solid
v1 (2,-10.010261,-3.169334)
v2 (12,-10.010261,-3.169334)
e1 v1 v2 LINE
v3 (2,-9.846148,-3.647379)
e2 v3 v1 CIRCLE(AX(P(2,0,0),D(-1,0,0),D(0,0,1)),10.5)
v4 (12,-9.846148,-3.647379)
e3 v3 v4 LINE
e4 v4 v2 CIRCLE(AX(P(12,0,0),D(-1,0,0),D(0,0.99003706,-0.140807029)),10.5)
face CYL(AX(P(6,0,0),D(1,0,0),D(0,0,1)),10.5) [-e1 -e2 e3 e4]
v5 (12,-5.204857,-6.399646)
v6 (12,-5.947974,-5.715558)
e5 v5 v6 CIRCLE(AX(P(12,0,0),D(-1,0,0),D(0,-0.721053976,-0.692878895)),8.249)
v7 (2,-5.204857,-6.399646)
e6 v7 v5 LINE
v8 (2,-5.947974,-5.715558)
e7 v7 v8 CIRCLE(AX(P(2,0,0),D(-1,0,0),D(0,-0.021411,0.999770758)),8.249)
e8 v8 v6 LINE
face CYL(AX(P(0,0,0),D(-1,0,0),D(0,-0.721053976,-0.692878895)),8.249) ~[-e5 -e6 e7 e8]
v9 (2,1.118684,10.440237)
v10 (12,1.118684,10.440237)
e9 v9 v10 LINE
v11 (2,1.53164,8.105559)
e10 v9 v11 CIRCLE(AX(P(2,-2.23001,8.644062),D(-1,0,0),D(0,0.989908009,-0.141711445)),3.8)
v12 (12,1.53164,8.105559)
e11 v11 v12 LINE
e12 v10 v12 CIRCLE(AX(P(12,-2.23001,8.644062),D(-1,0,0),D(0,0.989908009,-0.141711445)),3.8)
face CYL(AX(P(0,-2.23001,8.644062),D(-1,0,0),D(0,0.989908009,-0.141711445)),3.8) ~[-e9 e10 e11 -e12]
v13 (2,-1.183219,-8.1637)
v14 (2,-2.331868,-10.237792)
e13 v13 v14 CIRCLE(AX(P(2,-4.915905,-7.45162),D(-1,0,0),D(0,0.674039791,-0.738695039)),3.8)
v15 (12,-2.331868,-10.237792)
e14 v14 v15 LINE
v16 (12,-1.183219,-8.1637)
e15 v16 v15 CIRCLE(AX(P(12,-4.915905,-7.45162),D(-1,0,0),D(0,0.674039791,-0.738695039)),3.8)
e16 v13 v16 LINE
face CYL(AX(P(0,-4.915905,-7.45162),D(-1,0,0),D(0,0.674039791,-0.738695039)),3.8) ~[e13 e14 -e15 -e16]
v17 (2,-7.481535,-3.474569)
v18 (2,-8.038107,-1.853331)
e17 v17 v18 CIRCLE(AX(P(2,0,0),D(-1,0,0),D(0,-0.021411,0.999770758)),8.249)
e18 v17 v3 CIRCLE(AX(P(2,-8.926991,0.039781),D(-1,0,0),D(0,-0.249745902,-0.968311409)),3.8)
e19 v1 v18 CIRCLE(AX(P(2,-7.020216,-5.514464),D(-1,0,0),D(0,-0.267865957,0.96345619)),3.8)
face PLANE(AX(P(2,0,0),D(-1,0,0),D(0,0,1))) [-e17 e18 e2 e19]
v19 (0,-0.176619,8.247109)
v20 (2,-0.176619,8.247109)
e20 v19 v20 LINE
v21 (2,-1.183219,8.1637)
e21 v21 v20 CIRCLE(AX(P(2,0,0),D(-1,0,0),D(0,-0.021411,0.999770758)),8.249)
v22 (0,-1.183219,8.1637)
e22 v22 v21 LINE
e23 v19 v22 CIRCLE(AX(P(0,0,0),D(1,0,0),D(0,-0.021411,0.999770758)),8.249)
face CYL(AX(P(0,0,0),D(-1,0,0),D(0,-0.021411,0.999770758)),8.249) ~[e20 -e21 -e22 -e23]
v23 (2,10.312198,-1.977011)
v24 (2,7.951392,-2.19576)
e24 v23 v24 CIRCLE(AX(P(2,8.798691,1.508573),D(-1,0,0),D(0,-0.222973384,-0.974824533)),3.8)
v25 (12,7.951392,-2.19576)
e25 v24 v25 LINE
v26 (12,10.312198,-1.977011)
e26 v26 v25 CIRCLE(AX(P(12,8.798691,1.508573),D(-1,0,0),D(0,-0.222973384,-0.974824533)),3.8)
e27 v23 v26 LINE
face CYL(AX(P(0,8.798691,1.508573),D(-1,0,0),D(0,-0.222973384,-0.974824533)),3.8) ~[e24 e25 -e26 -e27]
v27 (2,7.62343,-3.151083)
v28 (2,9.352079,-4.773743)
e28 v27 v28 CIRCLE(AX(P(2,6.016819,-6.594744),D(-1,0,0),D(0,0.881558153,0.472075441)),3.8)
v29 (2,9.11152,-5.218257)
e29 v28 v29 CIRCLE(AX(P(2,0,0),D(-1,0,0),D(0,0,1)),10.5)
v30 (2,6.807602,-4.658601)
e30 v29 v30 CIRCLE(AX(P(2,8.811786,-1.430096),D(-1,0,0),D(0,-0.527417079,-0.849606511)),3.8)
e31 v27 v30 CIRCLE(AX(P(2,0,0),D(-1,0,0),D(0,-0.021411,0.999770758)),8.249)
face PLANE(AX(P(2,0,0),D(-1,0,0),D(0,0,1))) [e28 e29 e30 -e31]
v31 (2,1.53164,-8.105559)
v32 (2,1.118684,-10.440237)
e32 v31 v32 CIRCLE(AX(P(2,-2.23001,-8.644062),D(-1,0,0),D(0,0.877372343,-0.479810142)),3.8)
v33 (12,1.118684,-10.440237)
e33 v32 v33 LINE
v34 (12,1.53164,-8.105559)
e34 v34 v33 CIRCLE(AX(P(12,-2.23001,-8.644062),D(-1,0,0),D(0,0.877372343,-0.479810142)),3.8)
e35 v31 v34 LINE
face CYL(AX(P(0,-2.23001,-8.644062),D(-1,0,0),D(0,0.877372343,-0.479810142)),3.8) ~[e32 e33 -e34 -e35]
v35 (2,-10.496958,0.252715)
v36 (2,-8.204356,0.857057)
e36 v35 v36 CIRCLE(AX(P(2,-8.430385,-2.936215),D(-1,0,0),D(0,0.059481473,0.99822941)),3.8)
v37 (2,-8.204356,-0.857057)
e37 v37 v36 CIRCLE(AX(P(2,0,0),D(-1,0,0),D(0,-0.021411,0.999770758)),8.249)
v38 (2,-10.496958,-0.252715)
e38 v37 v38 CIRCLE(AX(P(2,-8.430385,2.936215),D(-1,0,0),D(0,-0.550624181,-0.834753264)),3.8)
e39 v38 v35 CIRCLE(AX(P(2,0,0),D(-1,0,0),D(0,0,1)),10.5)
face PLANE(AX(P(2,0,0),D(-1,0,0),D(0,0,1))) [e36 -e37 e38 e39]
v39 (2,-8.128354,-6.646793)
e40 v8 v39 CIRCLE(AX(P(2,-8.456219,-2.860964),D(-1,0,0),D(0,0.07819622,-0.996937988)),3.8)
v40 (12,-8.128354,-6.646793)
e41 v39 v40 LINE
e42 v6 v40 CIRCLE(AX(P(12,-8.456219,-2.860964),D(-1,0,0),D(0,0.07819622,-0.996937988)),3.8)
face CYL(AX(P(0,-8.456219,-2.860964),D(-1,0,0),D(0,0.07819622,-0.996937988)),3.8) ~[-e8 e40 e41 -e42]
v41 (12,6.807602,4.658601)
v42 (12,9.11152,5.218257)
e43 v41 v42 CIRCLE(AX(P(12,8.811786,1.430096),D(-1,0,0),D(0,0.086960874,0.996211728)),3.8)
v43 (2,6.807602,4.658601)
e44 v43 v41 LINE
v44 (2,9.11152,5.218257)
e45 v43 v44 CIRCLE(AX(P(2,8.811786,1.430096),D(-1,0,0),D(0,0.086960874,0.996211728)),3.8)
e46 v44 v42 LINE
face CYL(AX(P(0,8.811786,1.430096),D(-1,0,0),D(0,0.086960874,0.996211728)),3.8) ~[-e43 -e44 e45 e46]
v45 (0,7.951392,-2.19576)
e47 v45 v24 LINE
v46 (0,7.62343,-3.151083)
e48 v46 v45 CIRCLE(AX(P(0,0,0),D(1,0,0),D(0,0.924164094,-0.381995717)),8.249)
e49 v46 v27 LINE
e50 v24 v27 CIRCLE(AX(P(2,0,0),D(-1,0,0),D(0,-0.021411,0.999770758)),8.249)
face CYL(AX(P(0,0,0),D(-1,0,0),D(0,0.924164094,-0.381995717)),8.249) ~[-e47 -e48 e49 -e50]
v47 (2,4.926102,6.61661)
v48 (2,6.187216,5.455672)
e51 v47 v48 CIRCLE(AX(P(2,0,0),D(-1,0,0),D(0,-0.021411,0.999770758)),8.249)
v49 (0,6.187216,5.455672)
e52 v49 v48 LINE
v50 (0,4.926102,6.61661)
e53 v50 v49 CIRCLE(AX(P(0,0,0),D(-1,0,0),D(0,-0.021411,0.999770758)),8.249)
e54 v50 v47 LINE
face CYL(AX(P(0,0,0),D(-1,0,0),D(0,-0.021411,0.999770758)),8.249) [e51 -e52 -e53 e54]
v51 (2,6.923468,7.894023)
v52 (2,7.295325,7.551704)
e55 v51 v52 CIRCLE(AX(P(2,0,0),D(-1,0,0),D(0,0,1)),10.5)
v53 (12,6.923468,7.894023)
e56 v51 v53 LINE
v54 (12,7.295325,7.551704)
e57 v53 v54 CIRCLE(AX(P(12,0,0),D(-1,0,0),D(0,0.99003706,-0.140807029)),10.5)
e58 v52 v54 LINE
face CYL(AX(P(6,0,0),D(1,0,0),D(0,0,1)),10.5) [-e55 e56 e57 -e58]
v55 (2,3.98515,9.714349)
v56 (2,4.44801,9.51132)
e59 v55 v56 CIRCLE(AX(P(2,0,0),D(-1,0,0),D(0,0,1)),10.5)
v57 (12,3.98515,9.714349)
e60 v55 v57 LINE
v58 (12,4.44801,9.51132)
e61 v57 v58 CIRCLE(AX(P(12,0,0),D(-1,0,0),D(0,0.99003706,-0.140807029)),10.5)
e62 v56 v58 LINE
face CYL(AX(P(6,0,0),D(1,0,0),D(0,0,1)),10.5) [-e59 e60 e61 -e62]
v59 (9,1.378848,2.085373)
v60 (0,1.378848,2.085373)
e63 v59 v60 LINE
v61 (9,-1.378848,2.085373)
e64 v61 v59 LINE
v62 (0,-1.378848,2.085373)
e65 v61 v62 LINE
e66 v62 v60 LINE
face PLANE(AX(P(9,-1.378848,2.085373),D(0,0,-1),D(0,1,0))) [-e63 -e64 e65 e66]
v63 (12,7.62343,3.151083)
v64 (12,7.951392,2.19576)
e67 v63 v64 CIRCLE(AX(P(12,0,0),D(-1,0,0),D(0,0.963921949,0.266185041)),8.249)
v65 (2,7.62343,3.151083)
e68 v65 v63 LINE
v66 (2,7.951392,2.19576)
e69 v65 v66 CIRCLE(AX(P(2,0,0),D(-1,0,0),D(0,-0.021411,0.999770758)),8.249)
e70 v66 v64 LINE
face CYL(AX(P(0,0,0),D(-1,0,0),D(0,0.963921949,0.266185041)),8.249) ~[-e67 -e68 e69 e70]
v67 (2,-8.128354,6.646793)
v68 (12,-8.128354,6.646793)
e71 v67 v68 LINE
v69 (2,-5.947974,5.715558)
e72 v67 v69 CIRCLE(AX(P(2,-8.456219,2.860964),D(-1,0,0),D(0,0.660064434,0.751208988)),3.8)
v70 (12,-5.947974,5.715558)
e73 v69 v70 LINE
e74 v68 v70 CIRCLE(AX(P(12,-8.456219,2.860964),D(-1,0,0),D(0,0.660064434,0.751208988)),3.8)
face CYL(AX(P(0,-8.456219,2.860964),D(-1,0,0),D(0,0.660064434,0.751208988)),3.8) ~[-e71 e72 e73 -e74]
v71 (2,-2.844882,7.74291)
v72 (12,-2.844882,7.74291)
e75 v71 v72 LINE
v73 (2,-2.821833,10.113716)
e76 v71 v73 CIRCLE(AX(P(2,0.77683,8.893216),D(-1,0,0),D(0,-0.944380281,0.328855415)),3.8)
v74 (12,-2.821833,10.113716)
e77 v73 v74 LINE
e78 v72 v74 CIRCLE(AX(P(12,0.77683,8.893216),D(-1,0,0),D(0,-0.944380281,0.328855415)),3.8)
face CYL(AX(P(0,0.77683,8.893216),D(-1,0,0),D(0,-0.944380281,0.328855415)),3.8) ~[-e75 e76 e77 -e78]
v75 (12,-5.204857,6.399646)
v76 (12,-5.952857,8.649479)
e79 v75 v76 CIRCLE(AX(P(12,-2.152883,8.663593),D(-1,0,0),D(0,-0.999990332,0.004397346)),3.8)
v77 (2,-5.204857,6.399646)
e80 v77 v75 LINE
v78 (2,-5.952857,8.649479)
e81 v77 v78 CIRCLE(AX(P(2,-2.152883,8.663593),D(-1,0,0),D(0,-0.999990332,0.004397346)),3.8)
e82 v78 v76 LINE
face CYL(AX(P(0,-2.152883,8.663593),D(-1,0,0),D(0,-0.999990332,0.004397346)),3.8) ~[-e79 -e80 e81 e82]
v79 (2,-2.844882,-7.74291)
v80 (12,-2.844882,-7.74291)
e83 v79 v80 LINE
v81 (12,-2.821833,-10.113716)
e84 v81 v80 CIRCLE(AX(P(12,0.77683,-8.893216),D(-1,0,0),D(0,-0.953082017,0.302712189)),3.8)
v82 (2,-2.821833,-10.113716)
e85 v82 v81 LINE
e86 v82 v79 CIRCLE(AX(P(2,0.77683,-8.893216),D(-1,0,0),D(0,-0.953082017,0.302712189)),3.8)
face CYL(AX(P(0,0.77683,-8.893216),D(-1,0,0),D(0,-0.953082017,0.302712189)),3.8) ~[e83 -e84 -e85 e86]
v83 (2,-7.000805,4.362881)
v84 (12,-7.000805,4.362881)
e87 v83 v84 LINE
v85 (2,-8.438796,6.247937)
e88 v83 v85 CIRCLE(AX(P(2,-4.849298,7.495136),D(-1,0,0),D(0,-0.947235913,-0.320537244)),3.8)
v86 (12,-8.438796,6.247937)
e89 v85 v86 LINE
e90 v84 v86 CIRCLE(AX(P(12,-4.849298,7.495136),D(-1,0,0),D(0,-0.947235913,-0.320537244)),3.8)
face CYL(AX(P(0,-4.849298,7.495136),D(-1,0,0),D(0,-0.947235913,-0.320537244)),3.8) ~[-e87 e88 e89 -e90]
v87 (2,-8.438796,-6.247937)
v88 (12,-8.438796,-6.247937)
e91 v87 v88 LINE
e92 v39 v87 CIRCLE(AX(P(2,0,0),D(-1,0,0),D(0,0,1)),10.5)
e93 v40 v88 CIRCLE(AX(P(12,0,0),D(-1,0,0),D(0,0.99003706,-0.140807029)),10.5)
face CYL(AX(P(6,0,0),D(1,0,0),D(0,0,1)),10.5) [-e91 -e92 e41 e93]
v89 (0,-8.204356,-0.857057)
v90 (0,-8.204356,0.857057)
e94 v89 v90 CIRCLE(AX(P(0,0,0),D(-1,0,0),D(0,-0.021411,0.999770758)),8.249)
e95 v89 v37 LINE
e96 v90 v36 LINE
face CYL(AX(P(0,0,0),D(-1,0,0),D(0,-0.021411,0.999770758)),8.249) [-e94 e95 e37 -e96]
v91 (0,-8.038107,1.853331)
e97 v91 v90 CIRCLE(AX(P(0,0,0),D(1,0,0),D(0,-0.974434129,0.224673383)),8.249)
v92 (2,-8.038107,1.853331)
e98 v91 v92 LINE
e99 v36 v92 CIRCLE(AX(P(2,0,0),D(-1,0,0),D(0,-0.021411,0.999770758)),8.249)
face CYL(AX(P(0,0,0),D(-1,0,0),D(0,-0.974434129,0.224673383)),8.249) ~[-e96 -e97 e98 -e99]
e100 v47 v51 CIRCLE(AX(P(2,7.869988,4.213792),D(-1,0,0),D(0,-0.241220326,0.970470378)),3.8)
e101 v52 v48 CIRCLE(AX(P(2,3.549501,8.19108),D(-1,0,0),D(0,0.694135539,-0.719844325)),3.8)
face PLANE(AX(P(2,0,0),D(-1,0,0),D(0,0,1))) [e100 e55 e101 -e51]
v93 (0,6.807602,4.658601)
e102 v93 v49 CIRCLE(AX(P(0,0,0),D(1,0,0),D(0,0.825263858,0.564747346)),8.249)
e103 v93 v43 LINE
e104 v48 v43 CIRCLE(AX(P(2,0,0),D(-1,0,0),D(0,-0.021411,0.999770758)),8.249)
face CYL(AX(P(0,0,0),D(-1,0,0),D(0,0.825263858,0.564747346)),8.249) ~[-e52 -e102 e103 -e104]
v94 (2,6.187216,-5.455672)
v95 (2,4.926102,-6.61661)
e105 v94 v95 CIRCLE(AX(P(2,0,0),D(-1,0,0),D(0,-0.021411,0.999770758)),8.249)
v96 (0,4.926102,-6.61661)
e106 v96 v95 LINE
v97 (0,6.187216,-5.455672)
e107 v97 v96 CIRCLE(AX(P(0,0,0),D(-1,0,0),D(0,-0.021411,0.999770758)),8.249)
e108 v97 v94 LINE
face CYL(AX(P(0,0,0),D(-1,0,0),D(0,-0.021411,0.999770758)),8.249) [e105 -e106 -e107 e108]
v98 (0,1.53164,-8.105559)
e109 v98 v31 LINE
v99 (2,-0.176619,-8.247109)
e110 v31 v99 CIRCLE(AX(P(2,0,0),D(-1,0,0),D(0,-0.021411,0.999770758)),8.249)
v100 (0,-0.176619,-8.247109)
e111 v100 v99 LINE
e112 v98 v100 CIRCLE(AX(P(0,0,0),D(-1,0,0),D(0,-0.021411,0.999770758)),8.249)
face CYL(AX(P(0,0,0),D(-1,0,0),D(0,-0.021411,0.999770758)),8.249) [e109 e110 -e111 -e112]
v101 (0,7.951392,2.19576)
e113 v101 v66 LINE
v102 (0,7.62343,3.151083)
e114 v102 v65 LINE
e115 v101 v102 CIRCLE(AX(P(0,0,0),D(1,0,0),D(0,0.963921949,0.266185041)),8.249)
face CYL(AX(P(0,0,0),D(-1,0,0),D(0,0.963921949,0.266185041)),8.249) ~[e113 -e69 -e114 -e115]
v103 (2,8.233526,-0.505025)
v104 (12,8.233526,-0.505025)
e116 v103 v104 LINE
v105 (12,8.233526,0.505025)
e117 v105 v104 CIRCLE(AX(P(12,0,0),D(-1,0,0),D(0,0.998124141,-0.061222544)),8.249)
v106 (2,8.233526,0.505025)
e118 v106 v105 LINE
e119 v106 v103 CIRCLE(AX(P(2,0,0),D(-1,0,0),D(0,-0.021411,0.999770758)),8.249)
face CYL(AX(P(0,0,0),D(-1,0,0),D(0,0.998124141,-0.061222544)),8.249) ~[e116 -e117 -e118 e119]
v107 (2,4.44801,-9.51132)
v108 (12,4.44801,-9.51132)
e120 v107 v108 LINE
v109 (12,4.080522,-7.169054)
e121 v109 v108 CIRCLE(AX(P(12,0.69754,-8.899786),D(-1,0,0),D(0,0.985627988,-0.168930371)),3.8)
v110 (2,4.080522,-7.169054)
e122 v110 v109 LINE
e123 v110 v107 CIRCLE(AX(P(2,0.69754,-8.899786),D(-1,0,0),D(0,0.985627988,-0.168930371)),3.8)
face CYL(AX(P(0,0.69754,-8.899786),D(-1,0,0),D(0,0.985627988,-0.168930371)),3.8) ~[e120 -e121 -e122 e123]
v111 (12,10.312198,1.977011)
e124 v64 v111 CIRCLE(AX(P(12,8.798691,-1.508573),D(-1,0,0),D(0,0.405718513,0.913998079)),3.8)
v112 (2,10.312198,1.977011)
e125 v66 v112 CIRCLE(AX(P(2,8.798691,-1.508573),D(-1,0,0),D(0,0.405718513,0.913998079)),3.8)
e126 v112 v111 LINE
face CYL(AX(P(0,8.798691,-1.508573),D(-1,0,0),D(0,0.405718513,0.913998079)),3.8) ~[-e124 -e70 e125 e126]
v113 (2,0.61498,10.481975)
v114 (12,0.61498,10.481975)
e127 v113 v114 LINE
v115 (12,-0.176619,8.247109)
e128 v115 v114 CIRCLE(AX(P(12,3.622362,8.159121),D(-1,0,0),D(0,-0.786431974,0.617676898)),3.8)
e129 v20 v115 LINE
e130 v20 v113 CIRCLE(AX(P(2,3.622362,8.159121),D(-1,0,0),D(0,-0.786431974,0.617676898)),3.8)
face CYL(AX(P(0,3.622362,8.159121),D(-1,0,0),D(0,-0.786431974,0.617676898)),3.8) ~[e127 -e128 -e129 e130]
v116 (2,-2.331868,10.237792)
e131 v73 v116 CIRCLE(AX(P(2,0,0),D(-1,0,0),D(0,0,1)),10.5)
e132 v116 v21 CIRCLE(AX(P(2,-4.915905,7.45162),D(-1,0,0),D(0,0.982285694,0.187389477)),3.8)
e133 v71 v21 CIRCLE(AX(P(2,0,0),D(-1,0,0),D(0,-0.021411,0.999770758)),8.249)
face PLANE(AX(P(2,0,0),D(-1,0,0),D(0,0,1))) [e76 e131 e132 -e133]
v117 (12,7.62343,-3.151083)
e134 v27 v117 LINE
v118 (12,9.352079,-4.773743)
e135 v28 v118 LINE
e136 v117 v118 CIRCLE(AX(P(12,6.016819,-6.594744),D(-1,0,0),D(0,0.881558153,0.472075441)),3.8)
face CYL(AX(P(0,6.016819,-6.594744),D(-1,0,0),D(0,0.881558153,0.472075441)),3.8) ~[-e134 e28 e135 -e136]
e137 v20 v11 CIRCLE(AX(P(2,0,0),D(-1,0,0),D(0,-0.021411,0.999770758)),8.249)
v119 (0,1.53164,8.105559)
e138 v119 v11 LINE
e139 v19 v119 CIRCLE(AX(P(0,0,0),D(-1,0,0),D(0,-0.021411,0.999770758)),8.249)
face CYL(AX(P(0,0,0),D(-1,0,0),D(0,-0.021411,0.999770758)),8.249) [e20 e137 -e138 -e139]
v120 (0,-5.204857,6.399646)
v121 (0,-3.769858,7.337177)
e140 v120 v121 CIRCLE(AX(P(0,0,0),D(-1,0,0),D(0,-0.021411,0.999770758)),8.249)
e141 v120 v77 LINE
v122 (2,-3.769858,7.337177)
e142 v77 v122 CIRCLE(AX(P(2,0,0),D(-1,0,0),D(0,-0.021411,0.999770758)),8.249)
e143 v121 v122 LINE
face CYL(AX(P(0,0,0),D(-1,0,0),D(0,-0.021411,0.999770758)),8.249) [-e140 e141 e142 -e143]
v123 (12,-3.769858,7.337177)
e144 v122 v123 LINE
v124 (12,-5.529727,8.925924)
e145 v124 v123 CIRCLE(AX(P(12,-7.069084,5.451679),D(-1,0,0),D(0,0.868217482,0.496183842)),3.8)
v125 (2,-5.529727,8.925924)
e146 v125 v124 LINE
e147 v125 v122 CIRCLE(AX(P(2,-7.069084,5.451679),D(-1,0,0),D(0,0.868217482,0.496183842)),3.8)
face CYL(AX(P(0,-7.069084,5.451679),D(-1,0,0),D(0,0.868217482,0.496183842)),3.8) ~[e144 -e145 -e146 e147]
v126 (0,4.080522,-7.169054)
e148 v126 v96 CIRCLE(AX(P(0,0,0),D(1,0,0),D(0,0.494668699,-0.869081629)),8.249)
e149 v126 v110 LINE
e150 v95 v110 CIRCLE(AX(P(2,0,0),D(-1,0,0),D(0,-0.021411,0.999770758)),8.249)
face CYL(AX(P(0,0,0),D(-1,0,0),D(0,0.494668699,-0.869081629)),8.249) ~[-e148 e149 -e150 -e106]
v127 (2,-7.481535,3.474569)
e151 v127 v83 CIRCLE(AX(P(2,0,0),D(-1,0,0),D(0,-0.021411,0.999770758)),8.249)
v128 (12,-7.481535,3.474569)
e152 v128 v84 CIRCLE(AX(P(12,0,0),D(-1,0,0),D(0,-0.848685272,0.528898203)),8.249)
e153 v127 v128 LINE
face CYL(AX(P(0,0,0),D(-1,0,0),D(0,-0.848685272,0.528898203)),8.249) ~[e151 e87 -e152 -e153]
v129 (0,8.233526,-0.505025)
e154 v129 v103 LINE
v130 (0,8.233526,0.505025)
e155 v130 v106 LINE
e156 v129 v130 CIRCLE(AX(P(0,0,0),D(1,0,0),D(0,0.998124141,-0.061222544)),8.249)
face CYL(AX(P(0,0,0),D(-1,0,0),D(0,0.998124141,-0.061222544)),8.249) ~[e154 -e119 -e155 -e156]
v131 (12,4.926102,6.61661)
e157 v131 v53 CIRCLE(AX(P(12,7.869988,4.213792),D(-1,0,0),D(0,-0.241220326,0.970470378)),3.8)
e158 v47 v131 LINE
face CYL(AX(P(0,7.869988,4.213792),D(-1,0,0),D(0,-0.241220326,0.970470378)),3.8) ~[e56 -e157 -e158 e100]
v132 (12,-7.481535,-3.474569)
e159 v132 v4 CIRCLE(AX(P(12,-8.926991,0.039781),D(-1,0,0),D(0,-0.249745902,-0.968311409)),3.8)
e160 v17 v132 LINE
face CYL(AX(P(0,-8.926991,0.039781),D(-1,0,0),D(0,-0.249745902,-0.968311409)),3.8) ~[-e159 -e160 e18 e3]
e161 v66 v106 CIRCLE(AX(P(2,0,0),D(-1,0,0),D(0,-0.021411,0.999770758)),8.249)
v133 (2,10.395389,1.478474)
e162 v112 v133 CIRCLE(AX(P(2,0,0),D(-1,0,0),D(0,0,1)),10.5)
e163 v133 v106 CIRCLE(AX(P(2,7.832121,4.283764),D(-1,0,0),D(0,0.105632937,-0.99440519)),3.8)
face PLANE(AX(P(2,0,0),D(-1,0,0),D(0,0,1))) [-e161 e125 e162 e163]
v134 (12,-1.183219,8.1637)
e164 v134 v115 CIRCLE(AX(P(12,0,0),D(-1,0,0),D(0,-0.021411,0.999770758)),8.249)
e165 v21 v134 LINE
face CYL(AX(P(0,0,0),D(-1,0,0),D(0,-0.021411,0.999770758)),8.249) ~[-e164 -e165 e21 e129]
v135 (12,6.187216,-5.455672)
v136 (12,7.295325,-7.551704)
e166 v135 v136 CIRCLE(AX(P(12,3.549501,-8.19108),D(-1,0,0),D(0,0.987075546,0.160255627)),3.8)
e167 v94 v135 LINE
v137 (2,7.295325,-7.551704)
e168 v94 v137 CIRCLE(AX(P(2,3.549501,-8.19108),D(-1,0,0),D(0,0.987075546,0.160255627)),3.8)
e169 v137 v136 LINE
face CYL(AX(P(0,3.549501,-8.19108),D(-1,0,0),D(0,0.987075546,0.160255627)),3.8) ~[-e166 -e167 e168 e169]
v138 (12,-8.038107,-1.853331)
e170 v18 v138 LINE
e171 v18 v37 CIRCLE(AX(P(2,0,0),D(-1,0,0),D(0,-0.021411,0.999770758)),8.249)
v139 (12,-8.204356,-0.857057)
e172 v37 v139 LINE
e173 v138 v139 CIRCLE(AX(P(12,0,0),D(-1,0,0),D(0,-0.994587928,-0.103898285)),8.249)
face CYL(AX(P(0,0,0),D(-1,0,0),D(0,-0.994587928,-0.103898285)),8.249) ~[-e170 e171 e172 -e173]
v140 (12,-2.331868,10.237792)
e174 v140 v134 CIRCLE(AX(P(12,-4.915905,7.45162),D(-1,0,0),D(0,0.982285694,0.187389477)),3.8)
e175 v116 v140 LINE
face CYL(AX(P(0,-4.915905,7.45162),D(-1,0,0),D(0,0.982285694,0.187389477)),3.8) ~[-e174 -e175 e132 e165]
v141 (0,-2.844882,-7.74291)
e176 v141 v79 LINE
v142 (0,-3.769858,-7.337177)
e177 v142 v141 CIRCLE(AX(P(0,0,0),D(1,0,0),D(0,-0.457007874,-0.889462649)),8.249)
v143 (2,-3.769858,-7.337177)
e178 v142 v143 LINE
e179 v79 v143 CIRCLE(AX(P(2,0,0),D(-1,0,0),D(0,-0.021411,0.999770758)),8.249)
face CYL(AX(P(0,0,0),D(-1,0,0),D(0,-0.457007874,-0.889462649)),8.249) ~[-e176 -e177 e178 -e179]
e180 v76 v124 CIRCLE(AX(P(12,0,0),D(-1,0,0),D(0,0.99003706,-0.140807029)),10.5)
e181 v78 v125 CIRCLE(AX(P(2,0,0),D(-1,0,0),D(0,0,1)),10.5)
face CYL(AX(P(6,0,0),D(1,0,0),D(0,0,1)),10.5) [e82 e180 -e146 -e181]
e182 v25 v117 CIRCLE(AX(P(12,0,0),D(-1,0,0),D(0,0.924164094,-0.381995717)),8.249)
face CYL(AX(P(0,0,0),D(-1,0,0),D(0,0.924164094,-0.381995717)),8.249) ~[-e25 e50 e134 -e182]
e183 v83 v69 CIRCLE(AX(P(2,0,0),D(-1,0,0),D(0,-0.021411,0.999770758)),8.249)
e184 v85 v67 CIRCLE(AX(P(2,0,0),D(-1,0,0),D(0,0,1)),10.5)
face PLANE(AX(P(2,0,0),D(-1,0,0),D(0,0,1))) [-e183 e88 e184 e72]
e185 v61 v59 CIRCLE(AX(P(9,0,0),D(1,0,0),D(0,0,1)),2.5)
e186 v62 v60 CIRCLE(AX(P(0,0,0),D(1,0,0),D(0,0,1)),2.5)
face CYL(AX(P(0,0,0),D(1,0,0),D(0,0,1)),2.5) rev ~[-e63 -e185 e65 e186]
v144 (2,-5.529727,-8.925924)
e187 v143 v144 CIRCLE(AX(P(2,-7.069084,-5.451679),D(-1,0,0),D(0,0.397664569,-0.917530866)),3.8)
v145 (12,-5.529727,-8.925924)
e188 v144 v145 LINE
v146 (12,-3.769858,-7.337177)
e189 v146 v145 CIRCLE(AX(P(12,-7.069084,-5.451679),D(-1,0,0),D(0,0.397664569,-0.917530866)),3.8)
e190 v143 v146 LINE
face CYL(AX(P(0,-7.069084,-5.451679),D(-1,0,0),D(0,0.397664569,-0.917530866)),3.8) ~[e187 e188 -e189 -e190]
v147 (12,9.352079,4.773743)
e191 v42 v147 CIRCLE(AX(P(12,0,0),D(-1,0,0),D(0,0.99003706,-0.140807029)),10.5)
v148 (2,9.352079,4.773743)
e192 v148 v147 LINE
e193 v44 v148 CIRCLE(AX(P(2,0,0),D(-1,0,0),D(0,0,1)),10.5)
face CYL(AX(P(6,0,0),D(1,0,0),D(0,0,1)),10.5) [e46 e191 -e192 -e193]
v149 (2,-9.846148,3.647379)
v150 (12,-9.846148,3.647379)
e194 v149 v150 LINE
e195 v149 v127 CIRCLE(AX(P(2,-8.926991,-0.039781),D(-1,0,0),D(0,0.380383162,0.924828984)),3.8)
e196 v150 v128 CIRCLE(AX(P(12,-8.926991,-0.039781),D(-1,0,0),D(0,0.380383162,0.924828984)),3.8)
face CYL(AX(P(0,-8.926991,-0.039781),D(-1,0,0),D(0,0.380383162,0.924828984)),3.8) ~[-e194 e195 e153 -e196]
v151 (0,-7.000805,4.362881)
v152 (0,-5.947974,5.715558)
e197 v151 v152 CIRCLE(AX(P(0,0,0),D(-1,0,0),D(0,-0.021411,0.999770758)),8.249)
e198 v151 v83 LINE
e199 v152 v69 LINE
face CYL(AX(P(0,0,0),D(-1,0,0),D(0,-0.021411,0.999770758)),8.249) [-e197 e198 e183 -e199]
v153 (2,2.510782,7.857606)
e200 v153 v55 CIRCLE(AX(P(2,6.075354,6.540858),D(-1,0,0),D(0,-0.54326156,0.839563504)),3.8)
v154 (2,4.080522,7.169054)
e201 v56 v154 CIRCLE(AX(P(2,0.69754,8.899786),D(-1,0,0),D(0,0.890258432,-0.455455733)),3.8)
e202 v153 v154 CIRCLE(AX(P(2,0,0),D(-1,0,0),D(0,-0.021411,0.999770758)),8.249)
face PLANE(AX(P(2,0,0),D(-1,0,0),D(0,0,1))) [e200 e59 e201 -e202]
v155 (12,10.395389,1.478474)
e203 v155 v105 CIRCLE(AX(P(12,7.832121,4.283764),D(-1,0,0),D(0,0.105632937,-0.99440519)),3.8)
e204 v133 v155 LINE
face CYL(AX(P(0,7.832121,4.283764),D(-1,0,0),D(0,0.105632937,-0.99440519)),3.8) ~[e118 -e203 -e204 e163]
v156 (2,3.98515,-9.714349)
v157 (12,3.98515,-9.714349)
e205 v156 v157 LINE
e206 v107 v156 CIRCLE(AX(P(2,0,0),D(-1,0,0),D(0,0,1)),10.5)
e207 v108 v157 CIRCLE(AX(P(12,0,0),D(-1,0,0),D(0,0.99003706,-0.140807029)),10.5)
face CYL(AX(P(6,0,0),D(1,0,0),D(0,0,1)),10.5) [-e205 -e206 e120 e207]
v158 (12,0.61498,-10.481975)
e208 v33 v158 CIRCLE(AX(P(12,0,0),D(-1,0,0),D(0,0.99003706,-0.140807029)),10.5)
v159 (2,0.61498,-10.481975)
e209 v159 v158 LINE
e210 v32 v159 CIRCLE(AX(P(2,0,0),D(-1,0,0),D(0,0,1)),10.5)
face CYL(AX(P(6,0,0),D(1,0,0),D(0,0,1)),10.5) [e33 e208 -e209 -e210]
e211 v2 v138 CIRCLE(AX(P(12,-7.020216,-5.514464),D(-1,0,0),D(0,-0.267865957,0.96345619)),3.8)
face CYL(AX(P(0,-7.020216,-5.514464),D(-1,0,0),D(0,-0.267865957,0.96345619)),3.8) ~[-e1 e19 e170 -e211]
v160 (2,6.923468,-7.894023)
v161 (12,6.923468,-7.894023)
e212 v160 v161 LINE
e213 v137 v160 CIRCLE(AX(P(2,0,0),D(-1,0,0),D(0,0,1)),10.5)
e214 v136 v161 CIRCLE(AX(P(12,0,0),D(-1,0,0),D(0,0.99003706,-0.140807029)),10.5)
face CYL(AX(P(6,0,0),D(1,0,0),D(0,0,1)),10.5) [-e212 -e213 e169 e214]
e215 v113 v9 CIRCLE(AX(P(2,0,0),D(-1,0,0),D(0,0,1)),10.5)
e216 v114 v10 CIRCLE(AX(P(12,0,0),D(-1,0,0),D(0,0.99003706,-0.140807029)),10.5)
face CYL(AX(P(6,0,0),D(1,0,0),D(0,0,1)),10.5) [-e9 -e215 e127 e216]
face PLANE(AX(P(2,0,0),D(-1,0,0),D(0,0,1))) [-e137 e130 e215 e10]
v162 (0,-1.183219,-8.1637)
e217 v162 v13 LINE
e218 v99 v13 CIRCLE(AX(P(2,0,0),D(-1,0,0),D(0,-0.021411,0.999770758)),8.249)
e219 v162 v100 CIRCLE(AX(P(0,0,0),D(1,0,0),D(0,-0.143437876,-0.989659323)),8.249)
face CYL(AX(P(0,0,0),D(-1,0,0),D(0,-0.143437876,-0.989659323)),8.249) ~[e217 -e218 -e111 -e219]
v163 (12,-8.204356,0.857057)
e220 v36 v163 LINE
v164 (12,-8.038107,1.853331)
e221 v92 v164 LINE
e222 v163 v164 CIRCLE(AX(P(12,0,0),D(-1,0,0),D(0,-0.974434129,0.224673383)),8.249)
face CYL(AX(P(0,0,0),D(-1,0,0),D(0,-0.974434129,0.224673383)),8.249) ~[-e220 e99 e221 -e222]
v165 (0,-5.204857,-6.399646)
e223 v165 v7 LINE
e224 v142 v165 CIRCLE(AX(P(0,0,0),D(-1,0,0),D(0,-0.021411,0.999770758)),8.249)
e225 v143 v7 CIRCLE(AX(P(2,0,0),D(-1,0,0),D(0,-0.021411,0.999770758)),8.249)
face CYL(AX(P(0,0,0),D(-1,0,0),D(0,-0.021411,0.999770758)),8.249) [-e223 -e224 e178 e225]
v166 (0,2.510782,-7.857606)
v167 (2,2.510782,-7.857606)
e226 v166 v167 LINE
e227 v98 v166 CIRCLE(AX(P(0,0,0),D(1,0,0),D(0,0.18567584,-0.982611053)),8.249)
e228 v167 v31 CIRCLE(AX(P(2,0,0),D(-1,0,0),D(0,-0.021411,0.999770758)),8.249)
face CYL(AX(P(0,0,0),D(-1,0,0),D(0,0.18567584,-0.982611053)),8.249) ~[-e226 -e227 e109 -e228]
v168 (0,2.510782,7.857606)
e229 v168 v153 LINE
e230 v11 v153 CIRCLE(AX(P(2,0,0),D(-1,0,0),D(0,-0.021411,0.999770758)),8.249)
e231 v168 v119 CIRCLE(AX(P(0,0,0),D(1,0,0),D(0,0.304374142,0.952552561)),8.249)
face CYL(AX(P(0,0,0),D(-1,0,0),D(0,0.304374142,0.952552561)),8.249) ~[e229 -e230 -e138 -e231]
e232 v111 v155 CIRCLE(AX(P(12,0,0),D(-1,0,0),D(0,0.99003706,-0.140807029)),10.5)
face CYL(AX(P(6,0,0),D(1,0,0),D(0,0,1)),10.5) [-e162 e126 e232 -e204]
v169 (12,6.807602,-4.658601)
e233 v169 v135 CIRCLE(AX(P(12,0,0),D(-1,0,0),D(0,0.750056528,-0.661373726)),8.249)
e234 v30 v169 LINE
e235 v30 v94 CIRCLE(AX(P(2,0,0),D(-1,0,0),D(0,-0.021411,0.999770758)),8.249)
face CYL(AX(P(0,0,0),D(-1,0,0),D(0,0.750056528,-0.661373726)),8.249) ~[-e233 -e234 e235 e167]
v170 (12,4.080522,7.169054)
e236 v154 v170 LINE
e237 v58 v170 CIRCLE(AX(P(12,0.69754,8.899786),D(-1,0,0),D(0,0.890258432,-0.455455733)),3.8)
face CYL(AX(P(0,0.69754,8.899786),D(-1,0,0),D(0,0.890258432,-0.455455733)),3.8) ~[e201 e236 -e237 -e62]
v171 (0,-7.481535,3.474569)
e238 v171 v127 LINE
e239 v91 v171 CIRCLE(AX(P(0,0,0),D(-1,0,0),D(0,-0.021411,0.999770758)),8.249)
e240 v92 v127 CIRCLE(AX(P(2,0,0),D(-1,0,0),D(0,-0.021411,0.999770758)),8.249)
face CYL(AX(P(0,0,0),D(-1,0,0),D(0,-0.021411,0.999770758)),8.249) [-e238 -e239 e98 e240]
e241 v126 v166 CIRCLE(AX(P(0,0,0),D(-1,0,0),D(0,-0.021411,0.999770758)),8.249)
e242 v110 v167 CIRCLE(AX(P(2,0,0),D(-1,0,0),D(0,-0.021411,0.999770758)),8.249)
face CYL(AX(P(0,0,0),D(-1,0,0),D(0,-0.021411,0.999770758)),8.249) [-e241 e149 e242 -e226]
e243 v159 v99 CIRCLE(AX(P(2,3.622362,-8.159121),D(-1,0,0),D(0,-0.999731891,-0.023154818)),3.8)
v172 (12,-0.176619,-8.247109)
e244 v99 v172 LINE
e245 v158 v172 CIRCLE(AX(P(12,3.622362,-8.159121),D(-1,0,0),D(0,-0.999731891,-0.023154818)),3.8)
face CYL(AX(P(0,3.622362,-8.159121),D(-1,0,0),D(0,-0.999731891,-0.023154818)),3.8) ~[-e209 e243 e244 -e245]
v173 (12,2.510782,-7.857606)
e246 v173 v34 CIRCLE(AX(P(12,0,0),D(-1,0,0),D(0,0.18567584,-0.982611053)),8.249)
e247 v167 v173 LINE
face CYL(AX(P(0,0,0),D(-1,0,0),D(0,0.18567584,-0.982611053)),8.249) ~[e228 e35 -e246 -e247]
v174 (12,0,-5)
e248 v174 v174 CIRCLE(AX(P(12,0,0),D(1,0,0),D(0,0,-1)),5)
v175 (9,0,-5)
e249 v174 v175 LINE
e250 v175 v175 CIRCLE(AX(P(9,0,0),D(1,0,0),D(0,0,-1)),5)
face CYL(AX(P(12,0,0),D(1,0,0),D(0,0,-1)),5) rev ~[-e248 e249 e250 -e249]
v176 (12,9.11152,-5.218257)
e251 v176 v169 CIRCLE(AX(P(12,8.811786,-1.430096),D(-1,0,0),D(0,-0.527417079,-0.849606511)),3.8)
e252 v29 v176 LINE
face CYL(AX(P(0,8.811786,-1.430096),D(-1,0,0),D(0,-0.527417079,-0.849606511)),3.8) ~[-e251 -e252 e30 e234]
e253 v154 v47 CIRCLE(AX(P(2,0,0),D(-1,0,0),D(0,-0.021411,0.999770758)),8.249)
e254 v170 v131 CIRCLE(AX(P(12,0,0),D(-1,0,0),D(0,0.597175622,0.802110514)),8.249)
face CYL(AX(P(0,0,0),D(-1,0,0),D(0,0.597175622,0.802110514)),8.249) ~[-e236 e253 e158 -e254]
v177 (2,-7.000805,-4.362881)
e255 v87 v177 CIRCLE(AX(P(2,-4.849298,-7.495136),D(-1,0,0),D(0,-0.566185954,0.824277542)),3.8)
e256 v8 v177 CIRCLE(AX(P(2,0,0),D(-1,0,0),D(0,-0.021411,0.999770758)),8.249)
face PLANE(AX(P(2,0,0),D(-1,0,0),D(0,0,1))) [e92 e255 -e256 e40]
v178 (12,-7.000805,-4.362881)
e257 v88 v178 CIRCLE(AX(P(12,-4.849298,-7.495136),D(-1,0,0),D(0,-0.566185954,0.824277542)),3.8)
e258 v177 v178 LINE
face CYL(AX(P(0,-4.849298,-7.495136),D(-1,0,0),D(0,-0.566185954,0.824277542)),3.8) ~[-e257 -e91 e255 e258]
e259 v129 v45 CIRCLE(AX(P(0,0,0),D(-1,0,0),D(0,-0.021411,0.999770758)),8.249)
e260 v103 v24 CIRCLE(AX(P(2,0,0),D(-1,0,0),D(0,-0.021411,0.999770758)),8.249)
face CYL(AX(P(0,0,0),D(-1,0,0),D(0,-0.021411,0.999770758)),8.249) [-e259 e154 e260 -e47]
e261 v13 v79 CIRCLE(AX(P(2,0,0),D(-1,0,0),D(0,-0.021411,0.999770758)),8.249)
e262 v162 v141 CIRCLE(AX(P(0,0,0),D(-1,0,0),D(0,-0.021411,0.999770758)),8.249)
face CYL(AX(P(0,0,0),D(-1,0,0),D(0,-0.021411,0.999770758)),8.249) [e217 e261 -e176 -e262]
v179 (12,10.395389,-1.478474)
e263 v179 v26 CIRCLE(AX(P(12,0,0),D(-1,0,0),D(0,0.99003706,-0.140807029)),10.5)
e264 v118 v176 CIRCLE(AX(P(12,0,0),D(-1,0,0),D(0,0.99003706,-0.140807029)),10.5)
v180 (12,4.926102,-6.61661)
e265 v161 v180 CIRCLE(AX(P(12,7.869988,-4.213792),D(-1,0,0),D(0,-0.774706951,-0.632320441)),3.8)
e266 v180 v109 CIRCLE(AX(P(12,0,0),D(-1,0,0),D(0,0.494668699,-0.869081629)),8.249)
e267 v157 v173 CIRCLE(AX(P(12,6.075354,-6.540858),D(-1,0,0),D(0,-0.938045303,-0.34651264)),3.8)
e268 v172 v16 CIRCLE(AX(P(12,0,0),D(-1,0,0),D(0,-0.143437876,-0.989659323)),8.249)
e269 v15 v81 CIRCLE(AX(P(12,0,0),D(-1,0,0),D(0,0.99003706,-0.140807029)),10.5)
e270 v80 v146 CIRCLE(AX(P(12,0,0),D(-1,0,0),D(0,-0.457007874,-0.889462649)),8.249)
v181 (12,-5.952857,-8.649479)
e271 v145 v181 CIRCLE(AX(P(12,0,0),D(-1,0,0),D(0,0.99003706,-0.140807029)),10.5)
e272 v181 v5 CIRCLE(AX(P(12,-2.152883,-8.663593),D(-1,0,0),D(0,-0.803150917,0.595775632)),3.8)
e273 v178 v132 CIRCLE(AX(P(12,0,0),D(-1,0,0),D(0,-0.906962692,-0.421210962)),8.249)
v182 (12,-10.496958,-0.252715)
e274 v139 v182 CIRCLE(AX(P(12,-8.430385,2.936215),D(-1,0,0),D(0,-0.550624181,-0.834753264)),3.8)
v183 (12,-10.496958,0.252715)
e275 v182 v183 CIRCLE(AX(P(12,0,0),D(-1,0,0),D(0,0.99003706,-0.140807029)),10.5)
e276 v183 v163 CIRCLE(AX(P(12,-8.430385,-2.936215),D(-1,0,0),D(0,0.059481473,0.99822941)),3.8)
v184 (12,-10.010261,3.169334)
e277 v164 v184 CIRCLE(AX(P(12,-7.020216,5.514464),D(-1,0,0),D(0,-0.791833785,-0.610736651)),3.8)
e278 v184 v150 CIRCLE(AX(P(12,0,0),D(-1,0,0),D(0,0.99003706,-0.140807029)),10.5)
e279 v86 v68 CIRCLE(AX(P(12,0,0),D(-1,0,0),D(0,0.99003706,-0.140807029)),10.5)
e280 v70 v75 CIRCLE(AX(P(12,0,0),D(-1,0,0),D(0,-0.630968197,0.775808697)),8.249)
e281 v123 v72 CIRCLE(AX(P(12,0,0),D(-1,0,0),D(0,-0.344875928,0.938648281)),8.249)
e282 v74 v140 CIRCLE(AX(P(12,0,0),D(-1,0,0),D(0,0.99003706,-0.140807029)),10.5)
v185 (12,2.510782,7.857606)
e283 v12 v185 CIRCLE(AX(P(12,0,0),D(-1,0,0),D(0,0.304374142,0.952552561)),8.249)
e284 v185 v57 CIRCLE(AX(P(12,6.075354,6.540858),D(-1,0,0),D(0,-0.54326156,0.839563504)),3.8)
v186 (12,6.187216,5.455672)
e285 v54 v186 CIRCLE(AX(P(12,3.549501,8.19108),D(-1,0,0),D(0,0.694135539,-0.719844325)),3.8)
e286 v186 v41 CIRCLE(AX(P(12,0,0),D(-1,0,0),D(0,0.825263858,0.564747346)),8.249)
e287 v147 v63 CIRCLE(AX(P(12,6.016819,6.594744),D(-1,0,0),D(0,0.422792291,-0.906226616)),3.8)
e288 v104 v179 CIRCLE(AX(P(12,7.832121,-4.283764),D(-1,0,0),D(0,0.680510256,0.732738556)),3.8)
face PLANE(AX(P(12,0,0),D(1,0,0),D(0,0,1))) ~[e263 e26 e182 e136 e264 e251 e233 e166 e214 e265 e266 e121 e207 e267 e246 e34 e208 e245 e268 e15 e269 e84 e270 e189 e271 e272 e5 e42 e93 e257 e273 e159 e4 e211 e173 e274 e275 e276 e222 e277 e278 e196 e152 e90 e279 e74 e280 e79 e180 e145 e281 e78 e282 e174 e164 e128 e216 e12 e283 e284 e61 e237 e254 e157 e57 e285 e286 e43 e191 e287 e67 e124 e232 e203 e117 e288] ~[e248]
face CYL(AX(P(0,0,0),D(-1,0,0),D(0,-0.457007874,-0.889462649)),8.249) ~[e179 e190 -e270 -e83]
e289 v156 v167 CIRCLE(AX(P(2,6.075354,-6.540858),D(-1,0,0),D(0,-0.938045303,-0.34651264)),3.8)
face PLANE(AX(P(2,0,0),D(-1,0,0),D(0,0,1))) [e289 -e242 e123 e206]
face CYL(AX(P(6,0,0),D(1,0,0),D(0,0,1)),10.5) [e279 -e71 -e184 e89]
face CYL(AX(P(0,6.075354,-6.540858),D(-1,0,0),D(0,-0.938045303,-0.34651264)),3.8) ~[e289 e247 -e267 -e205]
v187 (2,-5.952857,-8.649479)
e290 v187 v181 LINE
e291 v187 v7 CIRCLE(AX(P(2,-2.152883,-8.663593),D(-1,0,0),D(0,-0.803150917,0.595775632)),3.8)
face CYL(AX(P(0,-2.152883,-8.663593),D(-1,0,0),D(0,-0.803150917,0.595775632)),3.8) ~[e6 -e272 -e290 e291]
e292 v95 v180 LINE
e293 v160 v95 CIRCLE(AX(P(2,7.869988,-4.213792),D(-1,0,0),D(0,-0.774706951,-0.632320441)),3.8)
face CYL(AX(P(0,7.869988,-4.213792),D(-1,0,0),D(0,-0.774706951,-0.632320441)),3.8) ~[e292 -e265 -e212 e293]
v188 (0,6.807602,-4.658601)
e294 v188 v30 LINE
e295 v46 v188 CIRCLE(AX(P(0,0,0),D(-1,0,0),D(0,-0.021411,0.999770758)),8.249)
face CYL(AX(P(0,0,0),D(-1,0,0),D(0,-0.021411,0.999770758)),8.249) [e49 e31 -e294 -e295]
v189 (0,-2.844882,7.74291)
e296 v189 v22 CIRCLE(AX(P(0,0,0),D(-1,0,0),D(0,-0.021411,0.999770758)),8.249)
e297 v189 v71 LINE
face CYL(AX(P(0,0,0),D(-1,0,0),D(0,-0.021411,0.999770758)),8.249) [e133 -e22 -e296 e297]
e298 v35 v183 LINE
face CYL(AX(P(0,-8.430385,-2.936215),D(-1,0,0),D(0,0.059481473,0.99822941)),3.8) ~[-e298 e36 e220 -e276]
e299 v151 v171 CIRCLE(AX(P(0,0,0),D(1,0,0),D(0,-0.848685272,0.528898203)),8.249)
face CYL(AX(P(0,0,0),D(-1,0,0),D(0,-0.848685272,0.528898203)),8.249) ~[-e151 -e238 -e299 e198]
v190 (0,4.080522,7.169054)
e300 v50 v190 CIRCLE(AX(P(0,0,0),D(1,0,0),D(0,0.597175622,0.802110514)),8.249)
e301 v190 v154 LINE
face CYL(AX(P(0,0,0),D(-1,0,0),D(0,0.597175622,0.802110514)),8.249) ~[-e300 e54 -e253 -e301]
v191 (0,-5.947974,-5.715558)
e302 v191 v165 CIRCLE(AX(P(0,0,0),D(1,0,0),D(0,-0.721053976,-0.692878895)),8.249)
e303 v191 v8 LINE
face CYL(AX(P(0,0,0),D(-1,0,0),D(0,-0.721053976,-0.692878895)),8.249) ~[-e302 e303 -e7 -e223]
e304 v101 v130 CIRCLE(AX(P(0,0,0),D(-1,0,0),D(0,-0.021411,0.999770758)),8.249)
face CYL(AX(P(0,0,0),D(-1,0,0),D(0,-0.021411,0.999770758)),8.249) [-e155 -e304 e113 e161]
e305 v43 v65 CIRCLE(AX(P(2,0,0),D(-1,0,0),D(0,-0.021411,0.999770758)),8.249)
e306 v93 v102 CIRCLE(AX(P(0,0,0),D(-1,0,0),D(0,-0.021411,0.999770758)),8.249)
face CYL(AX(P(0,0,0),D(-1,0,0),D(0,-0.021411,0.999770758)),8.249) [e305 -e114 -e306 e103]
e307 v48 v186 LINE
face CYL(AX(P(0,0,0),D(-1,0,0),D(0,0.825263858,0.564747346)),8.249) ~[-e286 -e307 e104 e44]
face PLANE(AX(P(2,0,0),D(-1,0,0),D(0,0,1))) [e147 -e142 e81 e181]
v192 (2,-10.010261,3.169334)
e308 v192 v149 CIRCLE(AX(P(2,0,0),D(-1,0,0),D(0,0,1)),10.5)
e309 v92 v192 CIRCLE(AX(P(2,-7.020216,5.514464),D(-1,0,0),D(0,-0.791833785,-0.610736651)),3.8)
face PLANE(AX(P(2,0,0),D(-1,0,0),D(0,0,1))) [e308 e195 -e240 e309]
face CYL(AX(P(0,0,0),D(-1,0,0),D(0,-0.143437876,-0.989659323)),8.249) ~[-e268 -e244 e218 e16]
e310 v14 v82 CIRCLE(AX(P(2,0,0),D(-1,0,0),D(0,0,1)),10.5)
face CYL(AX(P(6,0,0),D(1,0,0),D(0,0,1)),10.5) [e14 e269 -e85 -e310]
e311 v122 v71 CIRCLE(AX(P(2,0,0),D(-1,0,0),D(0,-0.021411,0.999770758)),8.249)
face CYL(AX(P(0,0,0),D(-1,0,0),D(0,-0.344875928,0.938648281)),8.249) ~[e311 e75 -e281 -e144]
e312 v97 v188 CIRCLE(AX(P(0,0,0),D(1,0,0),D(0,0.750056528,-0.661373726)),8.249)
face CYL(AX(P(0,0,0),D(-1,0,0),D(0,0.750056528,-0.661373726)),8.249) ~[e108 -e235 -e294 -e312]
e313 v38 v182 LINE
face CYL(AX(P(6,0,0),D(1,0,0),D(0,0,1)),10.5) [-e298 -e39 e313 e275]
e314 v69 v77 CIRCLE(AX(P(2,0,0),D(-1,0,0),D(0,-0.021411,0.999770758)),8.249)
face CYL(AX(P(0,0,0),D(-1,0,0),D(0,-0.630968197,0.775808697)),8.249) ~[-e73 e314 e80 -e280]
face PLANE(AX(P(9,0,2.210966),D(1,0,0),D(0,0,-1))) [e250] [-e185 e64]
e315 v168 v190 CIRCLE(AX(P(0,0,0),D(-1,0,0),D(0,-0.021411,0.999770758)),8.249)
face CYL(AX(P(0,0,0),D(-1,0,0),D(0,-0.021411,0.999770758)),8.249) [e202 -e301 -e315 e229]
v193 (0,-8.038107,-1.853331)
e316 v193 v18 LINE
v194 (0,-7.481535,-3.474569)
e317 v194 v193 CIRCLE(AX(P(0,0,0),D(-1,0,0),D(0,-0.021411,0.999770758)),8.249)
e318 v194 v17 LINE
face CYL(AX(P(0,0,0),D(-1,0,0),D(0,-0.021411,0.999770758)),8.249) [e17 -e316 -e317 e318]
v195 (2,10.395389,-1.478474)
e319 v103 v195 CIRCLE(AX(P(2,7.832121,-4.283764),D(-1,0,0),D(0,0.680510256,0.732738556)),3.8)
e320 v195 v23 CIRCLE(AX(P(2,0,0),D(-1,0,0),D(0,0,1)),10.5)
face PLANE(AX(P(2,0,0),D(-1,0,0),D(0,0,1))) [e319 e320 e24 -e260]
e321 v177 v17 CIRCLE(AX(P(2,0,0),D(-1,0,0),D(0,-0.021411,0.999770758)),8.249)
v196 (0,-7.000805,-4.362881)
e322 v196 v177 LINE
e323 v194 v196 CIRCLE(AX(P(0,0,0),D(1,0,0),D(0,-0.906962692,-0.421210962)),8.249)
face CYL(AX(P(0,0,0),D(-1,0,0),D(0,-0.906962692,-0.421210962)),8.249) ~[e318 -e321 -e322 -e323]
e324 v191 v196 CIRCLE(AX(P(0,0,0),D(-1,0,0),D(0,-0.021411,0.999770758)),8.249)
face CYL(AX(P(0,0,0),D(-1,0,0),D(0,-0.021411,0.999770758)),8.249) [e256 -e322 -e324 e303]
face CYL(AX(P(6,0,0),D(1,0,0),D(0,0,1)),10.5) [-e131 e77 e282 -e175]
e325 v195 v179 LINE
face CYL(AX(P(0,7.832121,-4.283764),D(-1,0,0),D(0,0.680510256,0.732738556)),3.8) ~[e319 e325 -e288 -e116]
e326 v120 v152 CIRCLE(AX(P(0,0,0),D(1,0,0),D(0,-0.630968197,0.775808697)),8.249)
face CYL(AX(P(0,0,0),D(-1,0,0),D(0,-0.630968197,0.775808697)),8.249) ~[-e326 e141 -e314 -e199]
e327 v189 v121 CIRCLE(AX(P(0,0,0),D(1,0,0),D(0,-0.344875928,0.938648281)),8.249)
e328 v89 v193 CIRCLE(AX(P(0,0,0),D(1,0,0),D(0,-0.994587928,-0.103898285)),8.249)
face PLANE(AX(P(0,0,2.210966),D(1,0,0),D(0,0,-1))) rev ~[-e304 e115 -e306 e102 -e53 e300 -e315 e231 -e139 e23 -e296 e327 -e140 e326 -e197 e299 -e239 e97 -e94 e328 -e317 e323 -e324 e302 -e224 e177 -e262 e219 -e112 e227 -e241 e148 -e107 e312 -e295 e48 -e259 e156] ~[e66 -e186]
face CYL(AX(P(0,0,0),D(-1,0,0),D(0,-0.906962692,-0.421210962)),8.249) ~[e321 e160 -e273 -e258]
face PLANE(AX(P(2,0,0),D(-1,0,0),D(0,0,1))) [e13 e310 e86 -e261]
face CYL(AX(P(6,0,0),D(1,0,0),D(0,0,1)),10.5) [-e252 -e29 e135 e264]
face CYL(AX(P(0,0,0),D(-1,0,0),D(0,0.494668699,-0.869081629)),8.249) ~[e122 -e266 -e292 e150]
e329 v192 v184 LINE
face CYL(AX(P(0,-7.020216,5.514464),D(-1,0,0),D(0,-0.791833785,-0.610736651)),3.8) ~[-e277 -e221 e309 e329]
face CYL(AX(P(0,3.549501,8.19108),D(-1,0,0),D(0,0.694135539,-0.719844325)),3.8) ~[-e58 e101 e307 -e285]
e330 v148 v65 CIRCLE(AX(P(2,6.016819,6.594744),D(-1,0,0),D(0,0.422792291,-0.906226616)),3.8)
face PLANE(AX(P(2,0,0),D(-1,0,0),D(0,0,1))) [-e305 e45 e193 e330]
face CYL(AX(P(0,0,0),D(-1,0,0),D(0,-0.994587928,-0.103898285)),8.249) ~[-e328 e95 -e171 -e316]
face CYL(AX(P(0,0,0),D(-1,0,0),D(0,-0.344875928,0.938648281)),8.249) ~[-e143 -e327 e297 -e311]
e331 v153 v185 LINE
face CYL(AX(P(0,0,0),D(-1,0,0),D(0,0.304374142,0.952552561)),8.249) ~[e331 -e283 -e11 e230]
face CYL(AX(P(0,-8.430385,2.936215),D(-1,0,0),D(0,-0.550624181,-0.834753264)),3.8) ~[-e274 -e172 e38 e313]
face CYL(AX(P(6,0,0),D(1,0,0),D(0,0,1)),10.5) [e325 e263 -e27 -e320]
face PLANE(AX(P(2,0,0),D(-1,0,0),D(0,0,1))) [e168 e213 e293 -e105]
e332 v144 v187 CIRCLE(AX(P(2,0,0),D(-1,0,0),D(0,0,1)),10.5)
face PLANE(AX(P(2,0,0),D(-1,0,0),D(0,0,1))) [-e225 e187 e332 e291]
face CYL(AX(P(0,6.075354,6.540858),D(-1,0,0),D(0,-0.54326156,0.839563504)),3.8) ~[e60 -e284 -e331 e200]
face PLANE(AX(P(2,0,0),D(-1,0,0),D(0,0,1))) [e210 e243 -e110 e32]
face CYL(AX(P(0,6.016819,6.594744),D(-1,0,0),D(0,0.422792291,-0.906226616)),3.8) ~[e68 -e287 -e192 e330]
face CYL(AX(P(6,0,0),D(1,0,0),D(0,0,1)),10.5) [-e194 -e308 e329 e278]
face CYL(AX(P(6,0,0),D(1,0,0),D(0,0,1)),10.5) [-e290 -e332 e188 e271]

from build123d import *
from build123d.topology import SkipClean

# Parameters (mm, degrees)
BASPROSKE_W         = 12
BASPROSKE_H         = 10.5
TOOTHCUT_DEPTH      = 20.091883092
TEETHCUTS_COUNT     = 19
BORSKE_R            = 2.5
BORE_DEPTH          = 50.0000508
SKETCH1_R           = 5
CUT_EXTRUDE1_DEPTH  = 3
BOSS_EXTRUDE1_DEPTH = 9
SKETCH3_R           = 10.5
SKETCH3_R_2         = 8.249
CUT_EXTRUDE2_DEPTH  = 2


with BuildPart() as part:
    # BasProSke → Base-Revolve (revolve)
    with BuildSketch(Plane(origin=(0, 0, 0), x_dir=(1, 0, 0), z_dir=(0, 1, 0)), mode=Mode.PRIVATE) as base_revolve_sk:
        with Locations((6, 5.25)):
            Rectangle(BASPROSKE_W, BASPROSKE_H)
    revolve(base_revolve_sk.sketch.rotate(Axis((-10, 0, 0), (1, 0, 0)), 180), axis=Axis((-10, 0, 0), (1, 0, 0)))

    # TooCutSke → ToothCut (cut, through all)
    with BuildSketch(Plane(origin=(0, 0, 0), x_dir=(0, 0, -1), z_dir=(1, 0, 0))):
        with BuildLine():
            ThreePointArc((0.505024765, 8.233526036), (0, 8.249), (-0.505024765, 8.233526036))
            ThreePointArc((-0.505024765, 8.233526036), (-0.825185426, 9.406360648), (-1.499357972, 10.41805984))
            ThreePointArc((-1.499357972, 10.41805984), (0, 10.5254), (1.499357972, 10.41805984))
            ThreePointArc((1.499357972, 10.41805984), (0.825185426, 9.406360648), (0.505024765, 8.233526036))
        make_face()
    toothcut = extrude(amount=TOOTHCUT_DEPTH, mode=Mode.SUBTRACT)

    # TeethCuts: ToothCut ×19 about axis
    teethcuts_axis = Axis((0, 0, 0), (1, 0, 0))
    for i in range(1, TEETHCUTS_COUNT):
        add(toothcut.rotate(teethcuts_axis, i * 360 / TEETHCUTS_COUNT), mode=Mode.SUBTRACT)

    # BorSke → Bore (cut, symmetric)
    with BuildSketch(Plane(origin=(0, 0, 0), x_dir=(0, 0, -1), z_dir=(1, 0, 0))):
        with Locations(Location((0, 0, 0), (0, 0, 180))):
            Circle(BORSKE_R)
    extrude(amount=BORE_DEPTH, both=True, mode=Mode.SUBTRACT)

    # Sketch1 → Cut-Extrude1 (cut)
    with BuildSketch(Plane(origin=(12, 0, 0), x_dir=(0, 0, -1), z_dir=(1, 0, 0))):
        Circle(SKETCH1_R)
    extrude(amount=-CUT_EXTRUDE1_DEPTH, mode=Mode.SUBTRACT)

    # Sketch2 → Boss-Extrude1 (add)
    with BuildSketch(Plane(origin=(9, 0, 0), x_dir=(0, 0, -1), z_dir=(1, 0, 0))):
        with BuildLine():
            Line((-2.085372664, -1.378847653), (-2.085372664, 1.378847653))
            ThreePointArc((-2.085372664, 1.378847653), (-2.5, 0), (-2.085372664, -1.378847653))
        make_face()
    extrude(amount=-BOSS_EXTRUDE1_DEPTH)

    # Sketch3 → Cut-Extrude2 (cut)
    with SkipClean():  # the faces are left unmerged after this step: merging them gives an invalid solid
        with BuildSketch(Plane.ZY):
            Circle(SKETCH3_R)
            with Locations(Location((0, 0, 0), (0, 0, 358.773146294))):
                Circle(SKETCH3_R_2, mode=Mode.SUBTRACT)
        extrude(amount=-CUT_EXTRUDE2_DEPTH, mode=Mode.SUBTRACT)


solid = part.part
